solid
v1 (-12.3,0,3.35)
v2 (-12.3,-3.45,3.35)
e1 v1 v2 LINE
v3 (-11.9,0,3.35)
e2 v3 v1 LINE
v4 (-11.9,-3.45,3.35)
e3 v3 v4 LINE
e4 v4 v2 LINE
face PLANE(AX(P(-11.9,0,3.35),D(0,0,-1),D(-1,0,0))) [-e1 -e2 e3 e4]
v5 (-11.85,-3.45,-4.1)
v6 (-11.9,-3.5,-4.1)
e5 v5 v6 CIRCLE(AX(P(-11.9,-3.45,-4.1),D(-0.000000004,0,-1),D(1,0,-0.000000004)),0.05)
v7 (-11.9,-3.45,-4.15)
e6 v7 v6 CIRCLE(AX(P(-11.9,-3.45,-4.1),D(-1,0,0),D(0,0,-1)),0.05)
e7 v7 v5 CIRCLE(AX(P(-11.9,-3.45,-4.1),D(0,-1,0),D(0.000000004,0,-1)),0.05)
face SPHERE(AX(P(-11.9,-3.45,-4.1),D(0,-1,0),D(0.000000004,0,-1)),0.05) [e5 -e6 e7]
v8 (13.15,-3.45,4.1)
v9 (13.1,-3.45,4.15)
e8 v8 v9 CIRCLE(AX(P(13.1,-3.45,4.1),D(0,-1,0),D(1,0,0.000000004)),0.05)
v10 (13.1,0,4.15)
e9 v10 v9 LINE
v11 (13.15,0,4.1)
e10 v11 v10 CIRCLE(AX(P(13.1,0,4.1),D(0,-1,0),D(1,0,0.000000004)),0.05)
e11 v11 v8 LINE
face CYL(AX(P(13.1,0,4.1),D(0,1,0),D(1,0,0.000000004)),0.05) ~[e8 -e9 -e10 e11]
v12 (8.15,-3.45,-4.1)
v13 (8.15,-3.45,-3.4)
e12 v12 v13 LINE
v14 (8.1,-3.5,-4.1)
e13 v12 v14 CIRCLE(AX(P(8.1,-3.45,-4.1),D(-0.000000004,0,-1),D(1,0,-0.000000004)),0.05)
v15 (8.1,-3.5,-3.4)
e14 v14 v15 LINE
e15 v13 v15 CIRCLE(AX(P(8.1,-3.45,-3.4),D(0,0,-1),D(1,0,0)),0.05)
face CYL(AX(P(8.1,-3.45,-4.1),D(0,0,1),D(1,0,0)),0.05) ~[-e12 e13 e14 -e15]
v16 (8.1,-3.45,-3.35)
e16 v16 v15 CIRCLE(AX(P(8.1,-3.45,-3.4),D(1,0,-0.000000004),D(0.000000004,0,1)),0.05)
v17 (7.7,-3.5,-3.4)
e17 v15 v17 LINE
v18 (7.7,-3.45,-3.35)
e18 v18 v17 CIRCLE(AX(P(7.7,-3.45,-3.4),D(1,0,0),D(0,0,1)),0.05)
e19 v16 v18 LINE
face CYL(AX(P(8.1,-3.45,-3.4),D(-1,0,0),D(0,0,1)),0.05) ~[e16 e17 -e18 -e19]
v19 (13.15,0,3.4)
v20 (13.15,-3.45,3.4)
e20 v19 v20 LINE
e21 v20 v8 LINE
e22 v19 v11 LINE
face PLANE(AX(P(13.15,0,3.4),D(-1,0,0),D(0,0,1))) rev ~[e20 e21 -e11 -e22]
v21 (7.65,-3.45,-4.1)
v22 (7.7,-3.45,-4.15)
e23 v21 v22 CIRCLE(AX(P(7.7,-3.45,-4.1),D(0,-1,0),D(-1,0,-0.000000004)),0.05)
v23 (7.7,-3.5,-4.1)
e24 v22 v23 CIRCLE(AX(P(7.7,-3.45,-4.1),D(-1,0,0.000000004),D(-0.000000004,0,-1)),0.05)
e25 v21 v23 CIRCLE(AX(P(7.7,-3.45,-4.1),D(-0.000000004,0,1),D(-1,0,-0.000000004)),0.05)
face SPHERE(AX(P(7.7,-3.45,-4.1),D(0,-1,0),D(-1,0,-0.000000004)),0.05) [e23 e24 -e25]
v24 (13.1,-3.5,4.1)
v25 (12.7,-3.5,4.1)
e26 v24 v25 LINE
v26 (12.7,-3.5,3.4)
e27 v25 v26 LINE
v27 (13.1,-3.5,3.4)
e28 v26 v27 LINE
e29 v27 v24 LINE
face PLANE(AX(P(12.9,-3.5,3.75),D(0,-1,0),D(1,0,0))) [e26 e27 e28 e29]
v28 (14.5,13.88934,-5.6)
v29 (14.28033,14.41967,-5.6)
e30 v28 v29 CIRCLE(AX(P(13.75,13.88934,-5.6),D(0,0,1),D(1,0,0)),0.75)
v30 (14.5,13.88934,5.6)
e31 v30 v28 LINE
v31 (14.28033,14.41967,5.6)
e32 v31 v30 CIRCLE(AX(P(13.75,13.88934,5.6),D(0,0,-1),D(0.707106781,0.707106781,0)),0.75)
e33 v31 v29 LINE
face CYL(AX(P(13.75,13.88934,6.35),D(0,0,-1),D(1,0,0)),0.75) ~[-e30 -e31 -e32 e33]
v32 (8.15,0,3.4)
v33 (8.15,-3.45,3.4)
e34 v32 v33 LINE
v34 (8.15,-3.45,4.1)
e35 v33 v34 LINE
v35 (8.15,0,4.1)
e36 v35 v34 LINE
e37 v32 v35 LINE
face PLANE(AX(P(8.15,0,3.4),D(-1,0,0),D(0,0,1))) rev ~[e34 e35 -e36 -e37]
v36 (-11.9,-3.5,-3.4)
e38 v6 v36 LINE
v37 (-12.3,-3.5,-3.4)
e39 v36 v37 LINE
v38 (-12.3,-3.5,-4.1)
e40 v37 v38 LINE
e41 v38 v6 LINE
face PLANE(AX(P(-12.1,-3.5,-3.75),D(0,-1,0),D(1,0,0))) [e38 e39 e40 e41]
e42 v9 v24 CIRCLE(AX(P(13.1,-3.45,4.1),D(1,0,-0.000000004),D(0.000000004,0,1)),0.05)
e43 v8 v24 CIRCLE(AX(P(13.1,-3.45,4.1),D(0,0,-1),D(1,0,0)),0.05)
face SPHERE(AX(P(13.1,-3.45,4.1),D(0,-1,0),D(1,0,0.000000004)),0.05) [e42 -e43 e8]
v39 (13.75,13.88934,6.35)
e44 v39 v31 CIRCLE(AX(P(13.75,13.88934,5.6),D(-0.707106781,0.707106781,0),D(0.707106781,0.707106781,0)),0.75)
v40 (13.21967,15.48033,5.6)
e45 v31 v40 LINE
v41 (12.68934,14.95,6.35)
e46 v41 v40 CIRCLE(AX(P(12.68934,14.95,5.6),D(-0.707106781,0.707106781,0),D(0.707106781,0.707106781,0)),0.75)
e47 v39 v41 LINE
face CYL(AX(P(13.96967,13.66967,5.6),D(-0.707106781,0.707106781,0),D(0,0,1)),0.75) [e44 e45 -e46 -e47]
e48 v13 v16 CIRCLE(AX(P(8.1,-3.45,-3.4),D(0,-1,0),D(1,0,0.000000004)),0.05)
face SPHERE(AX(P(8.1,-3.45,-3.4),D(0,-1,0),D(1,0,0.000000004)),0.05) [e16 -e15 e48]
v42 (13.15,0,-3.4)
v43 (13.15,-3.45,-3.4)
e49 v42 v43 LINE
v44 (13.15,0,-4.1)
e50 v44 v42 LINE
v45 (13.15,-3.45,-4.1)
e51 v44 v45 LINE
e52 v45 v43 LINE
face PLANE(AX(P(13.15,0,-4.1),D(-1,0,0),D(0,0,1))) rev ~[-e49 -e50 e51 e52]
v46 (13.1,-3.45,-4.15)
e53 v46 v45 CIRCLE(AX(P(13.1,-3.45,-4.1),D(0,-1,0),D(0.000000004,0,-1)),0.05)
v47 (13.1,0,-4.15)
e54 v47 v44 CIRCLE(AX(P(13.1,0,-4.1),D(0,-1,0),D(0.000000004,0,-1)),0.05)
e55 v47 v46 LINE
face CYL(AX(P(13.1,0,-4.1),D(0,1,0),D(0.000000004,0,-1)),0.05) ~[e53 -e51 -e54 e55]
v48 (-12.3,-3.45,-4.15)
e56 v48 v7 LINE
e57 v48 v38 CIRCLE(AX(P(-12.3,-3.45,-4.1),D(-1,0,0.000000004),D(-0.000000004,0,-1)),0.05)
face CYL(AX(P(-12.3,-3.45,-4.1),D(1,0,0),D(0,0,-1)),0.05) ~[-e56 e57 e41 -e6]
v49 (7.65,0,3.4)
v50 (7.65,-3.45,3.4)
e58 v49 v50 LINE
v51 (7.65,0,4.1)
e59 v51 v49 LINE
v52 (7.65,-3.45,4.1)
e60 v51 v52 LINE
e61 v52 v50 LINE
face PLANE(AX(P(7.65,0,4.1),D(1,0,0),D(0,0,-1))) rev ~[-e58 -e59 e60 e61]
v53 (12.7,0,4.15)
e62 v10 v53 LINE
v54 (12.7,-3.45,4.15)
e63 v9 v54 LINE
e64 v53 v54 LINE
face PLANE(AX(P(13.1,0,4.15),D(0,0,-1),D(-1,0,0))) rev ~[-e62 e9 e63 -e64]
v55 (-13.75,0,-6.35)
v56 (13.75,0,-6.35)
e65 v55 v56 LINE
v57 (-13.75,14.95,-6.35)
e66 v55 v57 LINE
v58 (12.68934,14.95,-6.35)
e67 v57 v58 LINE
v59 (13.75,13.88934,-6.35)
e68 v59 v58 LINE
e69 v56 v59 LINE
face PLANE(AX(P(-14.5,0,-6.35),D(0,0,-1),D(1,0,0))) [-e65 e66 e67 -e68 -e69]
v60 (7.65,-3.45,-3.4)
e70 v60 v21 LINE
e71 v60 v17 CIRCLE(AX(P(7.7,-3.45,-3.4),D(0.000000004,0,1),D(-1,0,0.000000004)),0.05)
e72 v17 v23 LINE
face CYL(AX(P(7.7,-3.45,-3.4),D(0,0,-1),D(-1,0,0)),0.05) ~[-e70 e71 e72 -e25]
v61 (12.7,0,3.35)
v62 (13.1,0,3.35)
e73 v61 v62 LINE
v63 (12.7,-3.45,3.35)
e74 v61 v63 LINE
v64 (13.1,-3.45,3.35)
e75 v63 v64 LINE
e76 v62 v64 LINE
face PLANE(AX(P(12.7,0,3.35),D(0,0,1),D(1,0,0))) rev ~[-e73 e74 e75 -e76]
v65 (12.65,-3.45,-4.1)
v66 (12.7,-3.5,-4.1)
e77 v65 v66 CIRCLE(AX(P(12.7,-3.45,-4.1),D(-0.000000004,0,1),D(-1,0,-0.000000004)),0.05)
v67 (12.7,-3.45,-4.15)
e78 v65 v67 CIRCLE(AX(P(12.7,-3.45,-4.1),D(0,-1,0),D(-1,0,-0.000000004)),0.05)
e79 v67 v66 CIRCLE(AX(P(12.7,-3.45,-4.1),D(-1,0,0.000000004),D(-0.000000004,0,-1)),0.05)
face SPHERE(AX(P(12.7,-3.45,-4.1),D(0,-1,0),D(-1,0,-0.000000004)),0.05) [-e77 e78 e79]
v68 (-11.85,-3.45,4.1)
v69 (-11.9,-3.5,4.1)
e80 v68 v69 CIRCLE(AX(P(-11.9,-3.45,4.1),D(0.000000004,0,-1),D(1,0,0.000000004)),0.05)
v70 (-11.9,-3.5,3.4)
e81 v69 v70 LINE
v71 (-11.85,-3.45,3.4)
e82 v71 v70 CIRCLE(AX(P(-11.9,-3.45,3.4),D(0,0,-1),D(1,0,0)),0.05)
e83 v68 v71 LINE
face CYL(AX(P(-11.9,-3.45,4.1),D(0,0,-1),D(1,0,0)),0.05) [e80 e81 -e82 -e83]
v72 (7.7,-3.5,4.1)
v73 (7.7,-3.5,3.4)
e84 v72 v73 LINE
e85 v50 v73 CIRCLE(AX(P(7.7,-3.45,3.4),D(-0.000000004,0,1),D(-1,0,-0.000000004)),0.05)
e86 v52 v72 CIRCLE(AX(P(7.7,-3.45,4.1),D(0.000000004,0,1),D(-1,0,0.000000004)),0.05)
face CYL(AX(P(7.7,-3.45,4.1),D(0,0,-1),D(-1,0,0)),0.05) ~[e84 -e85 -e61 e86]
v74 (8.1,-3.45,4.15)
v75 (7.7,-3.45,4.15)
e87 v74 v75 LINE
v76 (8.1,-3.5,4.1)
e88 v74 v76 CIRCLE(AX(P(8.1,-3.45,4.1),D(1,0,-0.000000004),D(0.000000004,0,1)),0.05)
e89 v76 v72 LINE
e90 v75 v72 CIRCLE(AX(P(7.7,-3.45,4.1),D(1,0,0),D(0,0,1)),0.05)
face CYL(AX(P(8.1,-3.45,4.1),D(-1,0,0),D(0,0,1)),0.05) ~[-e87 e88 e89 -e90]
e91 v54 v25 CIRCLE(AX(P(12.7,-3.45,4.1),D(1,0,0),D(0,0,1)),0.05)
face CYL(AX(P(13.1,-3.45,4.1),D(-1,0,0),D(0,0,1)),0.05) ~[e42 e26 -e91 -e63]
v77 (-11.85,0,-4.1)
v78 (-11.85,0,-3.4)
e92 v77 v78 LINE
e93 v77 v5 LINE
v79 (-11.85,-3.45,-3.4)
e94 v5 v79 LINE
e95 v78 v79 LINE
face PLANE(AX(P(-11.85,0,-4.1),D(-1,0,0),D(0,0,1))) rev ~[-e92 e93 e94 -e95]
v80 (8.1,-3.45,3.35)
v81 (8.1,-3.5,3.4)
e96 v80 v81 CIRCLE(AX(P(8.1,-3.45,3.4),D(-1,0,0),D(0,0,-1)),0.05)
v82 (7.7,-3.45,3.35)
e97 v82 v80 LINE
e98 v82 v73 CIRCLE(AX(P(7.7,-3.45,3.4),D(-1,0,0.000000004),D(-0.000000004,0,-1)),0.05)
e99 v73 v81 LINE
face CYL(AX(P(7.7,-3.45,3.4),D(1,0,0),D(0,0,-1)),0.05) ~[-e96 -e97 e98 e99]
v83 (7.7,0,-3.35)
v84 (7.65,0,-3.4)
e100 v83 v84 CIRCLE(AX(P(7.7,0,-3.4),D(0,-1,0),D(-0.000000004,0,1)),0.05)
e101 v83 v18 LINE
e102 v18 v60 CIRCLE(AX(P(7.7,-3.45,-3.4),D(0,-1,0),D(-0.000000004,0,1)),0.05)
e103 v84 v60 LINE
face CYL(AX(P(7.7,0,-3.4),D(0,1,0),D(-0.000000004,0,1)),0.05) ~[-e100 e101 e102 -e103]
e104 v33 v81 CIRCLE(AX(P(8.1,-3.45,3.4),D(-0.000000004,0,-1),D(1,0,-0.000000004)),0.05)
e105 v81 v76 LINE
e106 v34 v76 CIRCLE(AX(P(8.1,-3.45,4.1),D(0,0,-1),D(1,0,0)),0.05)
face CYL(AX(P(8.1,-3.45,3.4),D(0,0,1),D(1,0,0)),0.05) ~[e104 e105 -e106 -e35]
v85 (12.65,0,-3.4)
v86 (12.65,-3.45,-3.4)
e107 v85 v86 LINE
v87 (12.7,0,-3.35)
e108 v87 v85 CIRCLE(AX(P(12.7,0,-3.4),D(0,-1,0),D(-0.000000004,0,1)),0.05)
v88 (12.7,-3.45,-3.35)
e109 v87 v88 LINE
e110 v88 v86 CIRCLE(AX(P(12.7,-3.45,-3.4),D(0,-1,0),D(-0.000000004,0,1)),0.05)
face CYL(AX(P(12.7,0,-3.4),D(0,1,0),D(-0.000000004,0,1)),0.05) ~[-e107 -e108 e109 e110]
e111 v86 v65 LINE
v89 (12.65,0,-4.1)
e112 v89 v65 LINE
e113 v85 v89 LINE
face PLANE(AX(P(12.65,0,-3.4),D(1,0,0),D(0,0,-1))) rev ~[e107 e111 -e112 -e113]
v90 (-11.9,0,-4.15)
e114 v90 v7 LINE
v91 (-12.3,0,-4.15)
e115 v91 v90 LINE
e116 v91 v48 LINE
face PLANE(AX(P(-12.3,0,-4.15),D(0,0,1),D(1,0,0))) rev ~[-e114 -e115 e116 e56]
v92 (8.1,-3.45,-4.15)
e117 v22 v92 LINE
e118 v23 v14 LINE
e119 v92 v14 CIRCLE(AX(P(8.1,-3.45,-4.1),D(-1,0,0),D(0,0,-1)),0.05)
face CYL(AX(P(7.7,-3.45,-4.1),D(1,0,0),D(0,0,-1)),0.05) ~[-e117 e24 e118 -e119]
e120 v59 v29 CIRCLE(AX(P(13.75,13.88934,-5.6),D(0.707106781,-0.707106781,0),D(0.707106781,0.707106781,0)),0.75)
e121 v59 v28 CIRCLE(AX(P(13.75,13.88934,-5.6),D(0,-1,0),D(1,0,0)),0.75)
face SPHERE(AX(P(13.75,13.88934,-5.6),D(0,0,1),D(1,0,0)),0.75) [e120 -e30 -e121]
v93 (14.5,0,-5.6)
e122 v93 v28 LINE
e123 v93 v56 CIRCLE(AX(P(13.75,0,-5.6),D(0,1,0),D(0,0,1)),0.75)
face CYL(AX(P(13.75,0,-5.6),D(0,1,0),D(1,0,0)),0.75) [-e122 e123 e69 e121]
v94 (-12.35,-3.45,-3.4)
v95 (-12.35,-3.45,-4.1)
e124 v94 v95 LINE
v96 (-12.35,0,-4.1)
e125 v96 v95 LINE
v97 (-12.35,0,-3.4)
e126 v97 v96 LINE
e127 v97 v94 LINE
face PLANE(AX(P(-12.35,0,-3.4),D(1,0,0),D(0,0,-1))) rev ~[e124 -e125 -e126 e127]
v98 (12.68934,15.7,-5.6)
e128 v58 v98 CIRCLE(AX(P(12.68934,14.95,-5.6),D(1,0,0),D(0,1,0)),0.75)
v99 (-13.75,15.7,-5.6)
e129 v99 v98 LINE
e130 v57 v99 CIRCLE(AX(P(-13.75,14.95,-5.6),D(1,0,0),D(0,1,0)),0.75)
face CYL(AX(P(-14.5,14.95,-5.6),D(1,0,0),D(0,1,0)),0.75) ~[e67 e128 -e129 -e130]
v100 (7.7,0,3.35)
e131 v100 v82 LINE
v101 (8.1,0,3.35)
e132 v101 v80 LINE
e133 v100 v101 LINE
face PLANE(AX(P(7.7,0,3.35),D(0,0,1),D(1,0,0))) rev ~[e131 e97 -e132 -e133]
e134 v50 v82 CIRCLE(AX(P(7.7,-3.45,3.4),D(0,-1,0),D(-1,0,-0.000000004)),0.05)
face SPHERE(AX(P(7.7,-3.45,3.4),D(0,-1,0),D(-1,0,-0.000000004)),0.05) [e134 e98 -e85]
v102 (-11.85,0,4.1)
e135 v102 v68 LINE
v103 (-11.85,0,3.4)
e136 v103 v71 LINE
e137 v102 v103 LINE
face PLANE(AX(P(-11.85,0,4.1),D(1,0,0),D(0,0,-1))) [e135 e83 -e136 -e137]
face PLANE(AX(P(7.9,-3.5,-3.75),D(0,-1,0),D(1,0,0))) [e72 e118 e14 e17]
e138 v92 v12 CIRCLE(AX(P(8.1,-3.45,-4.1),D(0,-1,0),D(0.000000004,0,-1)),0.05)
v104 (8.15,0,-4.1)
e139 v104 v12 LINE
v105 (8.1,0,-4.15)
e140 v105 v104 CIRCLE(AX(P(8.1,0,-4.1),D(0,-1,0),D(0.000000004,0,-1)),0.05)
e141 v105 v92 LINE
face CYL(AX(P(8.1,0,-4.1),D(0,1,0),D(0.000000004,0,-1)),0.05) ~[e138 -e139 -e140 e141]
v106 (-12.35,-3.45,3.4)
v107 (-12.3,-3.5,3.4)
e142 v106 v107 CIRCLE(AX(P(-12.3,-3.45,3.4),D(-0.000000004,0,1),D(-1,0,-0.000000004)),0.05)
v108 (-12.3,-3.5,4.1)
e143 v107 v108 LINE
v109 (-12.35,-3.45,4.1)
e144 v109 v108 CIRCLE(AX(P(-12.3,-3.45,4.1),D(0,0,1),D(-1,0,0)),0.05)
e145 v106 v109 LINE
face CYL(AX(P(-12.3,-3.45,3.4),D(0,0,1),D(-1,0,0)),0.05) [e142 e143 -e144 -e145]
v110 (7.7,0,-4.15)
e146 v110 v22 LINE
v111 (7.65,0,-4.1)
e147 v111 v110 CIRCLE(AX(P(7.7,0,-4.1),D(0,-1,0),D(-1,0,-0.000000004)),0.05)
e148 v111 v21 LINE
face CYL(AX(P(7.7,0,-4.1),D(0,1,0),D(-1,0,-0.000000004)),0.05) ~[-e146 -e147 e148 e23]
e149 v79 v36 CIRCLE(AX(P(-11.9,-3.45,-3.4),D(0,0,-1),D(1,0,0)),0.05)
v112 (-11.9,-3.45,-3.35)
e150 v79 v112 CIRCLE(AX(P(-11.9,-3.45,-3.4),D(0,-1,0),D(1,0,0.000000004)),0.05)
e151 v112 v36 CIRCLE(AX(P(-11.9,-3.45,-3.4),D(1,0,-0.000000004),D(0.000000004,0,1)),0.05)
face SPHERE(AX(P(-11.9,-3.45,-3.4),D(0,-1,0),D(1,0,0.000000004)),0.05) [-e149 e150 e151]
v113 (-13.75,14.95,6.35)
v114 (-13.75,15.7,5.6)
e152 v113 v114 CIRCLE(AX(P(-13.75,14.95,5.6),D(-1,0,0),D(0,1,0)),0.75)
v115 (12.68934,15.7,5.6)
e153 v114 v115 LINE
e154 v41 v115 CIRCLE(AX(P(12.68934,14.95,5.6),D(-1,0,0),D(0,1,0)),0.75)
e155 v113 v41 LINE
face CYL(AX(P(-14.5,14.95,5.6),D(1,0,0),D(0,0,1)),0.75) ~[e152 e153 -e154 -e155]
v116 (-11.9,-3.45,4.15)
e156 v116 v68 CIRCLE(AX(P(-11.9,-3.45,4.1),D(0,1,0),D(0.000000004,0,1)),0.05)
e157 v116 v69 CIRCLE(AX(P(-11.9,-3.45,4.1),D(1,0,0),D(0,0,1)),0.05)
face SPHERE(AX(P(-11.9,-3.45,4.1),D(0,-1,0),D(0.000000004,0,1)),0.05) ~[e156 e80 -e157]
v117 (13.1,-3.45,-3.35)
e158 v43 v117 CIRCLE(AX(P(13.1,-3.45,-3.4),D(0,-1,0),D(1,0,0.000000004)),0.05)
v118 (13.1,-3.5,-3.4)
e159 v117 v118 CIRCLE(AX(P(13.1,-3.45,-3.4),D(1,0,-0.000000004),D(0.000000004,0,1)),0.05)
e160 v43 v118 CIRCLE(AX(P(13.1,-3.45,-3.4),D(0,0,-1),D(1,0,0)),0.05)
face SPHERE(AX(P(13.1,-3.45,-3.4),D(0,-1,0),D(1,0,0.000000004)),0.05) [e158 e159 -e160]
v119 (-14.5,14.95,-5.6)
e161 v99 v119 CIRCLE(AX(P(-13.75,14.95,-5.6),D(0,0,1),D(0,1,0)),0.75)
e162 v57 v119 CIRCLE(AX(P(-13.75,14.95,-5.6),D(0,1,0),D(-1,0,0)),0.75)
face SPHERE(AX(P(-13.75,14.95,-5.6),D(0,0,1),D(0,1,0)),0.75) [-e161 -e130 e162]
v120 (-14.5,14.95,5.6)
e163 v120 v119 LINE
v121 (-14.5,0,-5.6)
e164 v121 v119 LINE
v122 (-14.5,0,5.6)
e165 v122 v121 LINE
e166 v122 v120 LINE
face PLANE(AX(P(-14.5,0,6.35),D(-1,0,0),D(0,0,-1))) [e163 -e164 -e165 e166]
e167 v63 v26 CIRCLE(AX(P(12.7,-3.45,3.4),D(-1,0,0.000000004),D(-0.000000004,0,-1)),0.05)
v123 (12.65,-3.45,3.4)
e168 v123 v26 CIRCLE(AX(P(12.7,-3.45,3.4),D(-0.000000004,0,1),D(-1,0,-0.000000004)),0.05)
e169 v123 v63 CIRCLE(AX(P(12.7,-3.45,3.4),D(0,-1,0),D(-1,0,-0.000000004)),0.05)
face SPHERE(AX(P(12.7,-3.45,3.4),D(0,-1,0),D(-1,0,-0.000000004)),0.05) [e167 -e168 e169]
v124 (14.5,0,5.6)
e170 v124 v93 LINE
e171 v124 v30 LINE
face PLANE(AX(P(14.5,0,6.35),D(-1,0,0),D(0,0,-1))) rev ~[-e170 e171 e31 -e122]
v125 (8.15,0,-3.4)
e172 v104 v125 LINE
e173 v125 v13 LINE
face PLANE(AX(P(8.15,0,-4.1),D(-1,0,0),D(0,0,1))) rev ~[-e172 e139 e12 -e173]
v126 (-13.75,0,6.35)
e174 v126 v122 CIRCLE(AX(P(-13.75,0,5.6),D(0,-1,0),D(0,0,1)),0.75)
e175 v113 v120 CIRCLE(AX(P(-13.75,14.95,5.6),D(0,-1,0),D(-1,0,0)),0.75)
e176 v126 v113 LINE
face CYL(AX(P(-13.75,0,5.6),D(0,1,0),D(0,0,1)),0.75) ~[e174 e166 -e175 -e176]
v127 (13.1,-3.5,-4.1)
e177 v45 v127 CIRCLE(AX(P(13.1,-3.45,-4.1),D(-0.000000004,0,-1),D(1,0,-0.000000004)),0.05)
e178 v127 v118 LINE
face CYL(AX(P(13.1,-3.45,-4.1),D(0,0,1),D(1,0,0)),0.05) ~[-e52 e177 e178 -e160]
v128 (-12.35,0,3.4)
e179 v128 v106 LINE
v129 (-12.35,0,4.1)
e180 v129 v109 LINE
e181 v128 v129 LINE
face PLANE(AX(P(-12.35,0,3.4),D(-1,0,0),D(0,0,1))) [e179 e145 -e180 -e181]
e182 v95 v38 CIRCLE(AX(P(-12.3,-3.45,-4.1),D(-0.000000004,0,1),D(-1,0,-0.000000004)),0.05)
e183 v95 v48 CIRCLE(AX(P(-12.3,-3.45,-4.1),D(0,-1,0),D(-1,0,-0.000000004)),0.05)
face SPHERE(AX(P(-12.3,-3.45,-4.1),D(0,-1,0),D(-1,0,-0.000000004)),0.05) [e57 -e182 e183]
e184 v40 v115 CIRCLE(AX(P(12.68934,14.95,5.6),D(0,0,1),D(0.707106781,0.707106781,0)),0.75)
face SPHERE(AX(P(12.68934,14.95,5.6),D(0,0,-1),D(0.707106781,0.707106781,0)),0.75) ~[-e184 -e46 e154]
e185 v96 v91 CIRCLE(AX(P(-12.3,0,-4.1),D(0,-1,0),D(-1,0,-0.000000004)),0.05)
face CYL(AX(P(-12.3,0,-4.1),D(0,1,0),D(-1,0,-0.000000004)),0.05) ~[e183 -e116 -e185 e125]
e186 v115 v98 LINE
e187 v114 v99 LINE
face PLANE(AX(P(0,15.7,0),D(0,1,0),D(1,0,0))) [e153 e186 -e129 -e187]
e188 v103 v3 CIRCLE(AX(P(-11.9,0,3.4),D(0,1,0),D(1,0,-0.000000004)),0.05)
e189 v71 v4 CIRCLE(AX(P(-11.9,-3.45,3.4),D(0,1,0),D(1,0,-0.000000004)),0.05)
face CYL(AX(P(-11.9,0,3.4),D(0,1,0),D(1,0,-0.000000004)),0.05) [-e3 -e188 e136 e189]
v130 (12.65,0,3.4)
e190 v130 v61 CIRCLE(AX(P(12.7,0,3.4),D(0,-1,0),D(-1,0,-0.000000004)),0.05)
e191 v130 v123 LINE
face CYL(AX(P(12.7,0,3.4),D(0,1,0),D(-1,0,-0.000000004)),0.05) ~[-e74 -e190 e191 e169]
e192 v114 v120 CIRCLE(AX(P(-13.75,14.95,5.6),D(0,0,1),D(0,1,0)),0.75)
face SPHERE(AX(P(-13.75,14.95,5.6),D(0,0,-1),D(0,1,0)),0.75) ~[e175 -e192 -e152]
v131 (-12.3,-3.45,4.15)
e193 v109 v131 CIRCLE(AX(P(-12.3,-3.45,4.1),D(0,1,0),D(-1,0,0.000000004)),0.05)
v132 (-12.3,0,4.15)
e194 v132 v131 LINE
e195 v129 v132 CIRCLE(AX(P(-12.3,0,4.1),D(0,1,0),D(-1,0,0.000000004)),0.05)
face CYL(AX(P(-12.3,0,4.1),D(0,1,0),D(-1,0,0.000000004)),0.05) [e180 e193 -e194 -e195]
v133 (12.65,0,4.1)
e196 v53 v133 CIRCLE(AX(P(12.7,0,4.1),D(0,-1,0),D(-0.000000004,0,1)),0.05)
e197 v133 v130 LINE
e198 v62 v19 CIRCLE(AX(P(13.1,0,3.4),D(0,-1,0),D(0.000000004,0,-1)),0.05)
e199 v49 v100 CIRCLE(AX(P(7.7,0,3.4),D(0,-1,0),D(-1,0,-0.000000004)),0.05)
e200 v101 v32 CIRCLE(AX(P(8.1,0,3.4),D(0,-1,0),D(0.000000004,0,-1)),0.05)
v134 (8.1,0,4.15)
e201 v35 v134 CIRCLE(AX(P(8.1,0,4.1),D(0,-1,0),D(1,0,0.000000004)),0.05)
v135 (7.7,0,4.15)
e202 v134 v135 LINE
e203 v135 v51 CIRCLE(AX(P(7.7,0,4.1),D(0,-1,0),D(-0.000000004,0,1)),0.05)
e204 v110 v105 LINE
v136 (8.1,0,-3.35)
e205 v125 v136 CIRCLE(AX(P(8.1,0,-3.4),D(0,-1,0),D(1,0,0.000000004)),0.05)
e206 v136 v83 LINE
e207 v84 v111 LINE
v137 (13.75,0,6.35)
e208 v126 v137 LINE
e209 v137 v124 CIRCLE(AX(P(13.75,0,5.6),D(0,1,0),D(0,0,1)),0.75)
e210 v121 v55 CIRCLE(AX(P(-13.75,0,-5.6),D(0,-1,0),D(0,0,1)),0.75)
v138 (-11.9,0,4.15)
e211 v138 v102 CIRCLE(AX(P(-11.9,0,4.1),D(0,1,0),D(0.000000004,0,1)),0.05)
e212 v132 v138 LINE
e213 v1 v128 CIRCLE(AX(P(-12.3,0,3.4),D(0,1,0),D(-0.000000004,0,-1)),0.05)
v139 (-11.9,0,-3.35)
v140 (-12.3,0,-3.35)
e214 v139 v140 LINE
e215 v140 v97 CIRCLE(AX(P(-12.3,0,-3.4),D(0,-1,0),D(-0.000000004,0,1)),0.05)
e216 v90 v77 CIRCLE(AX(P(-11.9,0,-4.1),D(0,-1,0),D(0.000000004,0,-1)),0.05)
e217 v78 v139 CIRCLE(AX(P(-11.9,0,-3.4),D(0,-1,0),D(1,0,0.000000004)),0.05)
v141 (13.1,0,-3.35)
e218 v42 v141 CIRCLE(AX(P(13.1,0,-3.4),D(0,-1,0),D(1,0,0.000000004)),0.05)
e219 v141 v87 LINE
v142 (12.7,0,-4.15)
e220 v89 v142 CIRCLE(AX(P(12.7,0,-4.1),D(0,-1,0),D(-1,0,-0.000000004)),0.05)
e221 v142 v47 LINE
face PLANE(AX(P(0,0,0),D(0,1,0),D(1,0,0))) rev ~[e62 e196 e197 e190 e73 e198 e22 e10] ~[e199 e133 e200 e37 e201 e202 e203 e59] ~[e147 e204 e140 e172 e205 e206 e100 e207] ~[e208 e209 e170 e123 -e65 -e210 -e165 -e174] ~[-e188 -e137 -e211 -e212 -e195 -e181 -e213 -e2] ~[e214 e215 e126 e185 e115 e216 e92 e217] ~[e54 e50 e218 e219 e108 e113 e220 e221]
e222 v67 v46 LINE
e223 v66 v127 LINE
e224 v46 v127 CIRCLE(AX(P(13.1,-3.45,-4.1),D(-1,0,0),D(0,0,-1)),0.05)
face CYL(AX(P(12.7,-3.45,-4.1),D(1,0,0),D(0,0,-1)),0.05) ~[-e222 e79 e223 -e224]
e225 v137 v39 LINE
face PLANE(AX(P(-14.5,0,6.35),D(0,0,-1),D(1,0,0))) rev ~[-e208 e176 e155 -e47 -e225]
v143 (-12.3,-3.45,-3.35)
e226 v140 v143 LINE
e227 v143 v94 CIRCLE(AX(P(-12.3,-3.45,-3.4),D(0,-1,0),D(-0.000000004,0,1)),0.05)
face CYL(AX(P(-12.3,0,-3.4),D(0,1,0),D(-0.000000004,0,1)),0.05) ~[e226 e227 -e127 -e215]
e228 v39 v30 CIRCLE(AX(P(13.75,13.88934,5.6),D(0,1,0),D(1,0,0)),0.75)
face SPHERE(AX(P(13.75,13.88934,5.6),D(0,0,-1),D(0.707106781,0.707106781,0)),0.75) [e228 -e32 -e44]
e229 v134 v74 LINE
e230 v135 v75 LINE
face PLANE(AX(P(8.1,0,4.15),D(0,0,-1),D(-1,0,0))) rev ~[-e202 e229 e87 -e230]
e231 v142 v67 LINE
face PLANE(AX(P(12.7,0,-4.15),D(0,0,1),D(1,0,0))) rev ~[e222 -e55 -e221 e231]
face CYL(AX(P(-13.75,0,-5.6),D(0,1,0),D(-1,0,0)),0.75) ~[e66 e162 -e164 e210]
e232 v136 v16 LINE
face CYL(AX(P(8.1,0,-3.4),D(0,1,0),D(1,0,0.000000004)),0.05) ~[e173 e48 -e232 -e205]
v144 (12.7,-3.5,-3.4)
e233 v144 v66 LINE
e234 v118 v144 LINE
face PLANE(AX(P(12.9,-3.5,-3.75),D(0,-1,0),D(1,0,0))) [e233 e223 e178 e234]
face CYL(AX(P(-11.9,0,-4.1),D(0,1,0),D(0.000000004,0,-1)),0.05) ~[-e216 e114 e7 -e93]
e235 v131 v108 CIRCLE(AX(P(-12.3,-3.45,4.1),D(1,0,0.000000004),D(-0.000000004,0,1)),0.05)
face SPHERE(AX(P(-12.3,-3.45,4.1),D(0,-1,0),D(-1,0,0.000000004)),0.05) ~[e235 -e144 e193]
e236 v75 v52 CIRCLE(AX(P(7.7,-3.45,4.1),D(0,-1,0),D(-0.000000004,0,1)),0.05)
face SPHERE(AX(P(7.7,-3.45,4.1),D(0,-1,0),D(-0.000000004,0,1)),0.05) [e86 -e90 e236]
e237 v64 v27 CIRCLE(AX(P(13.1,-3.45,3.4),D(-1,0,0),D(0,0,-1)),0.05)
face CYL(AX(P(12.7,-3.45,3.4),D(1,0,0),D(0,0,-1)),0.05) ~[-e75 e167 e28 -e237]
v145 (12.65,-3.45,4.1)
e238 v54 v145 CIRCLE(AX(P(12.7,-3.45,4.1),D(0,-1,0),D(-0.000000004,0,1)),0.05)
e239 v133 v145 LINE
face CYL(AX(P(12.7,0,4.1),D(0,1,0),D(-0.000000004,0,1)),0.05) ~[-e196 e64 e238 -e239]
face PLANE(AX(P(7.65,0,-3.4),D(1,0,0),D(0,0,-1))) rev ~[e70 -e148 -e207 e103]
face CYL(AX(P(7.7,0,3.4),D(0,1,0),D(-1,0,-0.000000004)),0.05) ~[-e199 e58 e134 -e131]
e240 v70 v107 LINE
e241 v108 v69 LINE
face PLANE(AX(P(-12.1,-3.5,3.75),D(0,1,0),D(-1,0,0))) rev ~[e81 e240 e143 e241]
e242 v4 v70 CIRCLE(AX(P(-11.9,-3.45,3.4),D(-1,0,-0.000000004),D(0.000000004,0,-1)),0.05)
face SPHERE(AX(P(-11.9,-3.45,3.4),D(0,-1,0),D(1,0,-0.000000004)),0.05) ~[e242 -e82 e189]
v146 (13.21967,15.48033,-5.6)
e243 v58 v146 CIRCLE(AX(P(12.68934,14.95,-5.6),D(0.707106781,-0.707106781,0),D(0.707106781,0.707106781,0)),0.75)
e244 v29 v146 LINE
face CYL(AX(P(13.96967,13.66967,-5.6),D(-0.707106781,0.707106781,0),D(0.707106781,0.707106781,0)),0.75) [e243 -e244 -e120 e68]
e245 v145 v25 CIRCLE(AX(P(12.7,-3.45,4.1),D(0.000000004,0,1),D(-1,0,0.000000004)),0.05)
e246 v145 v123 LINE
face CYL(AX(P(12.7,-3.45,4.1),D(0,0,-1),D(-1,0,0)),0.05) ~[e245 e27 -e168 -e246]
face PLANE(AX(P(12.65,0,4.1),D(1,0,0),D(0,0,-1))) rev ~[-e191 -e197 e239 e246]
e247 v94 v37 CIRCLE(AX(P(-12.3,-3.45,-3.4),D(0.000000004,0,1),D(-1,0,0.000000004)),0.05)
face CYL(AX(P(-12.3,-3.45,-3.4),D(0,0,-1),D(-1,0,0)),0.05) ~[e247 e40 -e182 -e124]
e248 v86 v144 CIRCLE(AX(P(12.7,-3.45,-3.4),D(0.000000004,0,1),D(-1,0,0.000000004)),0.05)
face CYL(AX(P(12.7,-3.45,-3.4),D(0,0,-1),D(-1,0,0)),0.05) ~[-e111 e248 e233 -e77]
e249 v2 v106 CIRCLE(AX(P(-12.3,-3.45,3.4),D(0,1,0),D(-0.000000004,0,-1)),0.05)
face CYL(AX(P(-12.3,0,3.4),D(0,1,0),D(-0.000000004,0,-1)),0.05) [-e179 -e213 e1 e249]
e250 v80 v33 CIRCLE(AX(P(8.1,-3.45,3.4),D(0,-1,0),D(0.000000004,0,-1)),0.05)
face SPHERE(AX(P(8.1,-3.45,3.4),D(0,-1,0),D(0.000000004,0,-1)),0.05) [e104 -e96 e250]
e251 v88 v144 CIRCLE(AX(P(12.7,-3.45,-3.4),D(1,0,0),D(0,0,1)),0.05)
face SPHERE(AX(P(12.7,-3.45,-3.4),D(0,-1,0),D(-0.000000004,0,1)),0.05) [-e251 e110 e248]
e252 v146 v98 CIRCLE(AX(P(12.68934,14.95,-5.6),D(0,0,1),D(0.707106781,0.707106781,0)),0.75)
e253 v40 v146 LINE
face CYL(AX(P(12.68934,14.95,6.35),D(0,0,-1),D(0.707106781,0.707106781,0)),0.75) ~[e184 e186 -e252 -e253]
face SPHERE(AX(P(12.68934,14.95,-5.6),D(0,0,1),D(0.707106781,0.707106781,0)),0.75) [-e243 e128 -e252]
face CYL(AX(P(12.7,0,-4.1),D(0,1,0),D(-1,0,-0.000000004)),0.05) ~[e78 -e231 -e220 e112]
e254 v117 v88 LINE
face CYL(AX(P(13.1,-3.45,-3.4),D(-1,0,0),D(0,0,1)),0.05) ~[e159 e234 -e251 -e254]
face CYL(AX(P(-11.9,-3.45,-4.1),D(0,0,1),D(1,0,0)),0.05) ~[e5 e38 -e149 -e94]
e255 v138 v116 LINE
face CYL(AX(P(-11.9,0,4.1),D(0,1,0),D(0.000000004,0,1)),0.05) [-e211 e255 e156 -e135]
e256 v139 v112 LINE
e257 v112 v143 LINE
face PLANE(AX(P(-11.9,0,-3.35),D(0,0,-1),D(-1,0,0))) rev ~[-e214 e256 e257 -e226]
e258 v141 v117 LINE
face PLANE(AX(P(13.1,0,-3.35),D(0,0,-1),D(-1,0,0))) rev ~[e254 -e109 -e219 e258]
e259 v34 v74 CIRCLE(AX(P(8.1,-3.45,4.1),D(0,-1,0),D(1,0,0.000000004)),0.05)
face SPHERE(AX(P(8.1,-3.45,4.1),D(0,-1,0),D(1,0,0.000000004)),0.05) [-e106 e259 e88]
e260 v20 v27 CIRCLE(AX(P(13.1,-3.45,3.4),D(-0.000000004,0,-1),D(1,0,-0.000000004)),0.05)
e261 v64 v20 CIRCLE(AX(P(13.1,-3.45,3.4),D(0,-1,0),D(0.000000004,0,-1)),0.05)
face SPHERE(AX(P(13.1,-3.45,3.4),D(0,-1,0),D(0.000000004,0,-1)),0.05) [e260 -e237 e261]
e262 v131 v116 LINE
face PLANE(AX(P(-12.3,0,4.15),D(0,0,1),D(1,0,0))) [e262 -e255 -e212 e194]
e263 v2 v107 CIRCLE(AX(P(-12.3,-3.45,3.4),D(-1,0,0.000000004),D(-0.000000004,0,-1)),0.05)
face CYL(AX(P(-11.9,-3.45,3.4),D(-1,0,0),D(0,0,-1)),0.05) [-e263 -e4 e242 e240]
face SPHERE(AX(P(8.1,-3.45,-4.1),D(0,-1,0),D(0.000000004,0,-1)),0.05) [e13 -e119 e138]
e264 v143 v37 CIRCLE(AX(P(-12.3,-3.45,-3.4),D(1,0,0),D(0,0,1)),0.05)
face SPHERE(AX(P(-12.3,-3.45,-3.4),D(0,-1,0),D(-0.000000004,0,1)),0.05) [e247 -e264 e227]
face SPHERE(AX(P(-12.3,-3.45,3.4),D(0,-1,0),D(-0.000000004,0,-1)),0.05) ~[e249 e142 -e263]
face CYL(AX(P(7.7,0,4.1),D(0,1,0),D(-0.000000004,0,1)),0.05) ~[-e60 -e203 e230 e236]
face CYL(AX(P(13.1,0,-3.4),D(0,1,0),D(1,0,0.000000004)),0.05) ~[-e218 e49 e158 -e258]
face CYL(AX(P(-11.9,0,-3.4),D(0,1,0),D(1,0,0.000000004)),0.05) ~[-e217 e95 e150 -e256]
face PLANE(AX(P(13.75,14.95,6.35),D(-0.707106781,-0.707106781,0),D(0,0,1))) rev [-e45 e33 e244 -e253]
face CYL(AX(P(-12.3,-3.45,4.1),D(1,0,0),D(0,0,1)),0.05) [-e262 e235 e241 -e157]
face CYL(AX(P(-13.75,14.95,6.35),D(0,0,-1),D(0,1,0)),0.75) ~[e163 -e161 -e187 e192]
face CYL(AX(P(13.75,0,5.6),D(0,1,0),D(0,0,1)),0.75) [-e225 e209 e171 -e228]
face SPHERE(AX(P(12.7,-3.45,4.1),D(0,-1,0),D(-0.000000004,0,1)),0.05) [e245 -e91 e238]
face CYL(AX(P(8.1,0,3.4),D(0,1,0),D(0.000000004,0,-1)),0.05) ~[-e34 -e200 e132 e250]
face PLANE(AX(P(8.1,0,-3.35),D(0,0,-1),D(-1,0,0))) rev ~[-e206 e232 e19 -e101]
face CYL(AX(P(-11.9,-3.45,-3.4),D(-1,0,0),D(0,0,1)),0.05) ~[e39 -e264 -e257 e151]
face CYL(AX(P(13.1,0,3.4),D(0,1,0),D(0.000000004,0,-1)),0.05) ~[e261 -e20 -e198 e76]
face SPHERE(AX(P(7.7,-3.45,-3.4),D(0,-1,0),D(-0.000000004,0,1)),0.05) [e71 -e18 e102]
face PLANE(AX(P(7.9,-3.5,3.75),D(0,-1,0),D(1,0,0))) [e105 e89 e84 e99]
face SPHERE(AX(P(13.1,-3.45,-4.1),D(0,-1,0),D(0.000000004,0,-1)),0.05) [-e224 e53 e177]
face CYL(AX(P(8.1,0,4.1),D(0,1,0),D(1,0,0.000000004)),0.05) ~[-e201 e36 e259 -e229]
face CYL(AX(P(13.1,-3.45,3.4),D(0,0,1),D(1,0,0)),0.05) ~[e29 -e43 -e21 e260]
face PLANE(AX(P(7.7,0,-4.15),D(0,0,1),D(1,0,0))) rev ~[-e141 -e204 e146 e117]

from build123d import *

# Parameters (mm, degrees)
SKETCH_1_W      = 29
SKETCH_1_H      = 12.7
EXTRUDE_1_DEPTH = 15.7
EXTRUDE_2_DEPTH = 3.5
FILLET_1_R      = 0.05
CHAMFER_1_SIZE  = 1.5
FILLET_2_R      = 0.75


with BuildPart() as part:
    # Эскиз1 → Бобышка-Вытянуть1 (new body)
    with BuildSketch(Plane(origin=(0, 0, 0), x_dir=(1, 0, 0), z_dir=(0, 1, 0))):
        Rectangle(SKETCH_1_W, SKETCH_1_H)
    extrude(amount=EXTRUDE_1_DEPTH)

    # Эскиз2 → Бобышка-Вытянуть2 (add)
    with BuildSketch(Plane.XZ):
        with BuildLine():
            Line((-12.3, 4.15), (-11.9, 4.15))
            ThreePointArc((-11.9, 4.15), (-11.864644661, 4.135355339), (-11.85, 4.1))
            Line((-11.85, 4.1), (-11.85, 3.4))
            ThreePointArc((-11.85, 3.4), (-11.864644661, 3.364644661), (-11.9, 3.35))
            Line((-11.9, 3.35), (-12.3, 3.35))
            ThreePointArc((-12.3, 3.35), (-12.335355339, 3.364644661), (-12.35, 3.4))
            Line((-12.35, 3.4), (-12.35, 4.1))
            ThreePointArc((-12.35, 4.1), (-12.335355339, 4.135355339), (-12.3, 4.15))
        make_face()
        with BuildLine():
            Line((7.65, 4.1), (7.65, 3.4))
            ThreePointArc((7.65, 3.4), (7.664644661, 3.364644661), (7.7, 3.35))
            Line((7.7, 3.35), (8.1, 3.35))
            ThreePointArc((8.1, 3.35), (8.135355339, 3.364644661), (8.15, 3.4))
            Line((8.15, 3.4), (8.15, 4.1))
            ThreePointArc((8.15, 4.1), (8.135355339, 4.135355339), (8.1, 4.15))
            Line((8.1, 4.15), (7.7, 4.15))
            ThreePointArc((7.7, 4.15), (7.664644661, 4.135355339), (7.65, 4.1))
        make_face()
        with BuildLine():
            Line((12.65, 4.1), (12.65, 3.4))
            ThreePointArc((12.65, 3.4), (12.664644661, 3.364644661), (12.7, 3.35))
            Line((12.7, 3.35), (13.1, 3.35))
            ThreePointArc((13.1, 3.35), (13.135355339, 3.364644661), (13.15, 3.4))
            Line((13.15, 3.4), (13.15, 4.1))
            ThreePointArc((13.15, 4.1), (13.135355339, 4.135355339), (13.1, 4.15))
            Line((13.1, 4.15), (12.7, 4.15))
            ThreePointArc((12.7, 4.15), (12.664644661, 4.135355339), (12.65, 4.1))
        make_face()
        with BuildLine():
            Line((7.65, -3.4), (7.65, -4.1))
            ThreePointArc((7.65, -4.1), (7.664644661, -4.135355339), (7.7, -4.15))
            Line((7.7, -4.15), (8.1, -4.15))
            ThreePointArc((8.1, -4.15), (8.135355339, -4.135355339), (8.15, -4.1))
            Line((8.15, -4.1), (8.15, -3.4))
            ThreePointArc((8.15, -3.4), (8.135355339, -3.364644661), (8.1, -3.35))
            Line((8.1, -3.35), (7.7, -3.35))
            ThreePointArc((7.7, -3.35), (7.664644661, -3.364644661), (7.65, -3.4))
        make_face()
        with BuildLine():
            Line((12.65, -3.4), (12.65, -4.1))
            ThreePointArc((12.65, -4.1), (12.664644661, -4.135355339), (12.7, -4.15))
            Line((12.7, -4.15), (13.1, -4.15))
            ThreePointArc((13.1, -4.15), (13.135355339, -4.135355339), (13.15, -4.1))
            Line((13.15, -4.1), (13.15, -3.4))
            ThreePointArc((13.15, -3.4), (13.135355339, -3.364644661), (13.1, -3.35))
            Line((13.1, -3.35), (12.7, -3.35))
            ThreePointArc((12.7, -3.35), (12.664644661, -3.364644661), (12.65, -3.4))
        make_face()
        with BuildLine():
            Line((-12.35, -3.4), (-12.35, -4.1))
            ThreePointArc((-12.35, -4.1), (-12.335355339, -4.135355339), (-12.3, -4.15))
            Line((-12.3, -4.15), (-11.9, -4.15))
            ThreePointArc((-11.9, -4.15), (-11.864644661, -4.135355339), (-11.85, -4.1))
            Line((-11.85, -4.1), (-11.85, -3.4))
            ThreePointArc((-11.85, -3.4), (-11.864644661, -3.364644661), (-11.9, -3.35))
            Line((-11.9, -3.35), (-12.3, -3.35))
            ThreePointArc((-12.3, -3.35), (-12.335355339, -3.364644661), (-12.35, -3.4))
        make_face()
    extrude(amount=EXTRUDE_2_DEPTH)

    # Скругление1
    fillet_1_edges = [part.edges().sort_by_distance(p)[0] for p in [
        (12.664644661, -3.5, -4.135355339),
        (12.9, -3.5, -4.15),
        (13.135355339, -3.5, -4.135355339),
        (13.15, -3.5, -3.75),
        (13.135355339, -3.5, -3.364644661),
        (12.9, -3.5, -3.35),
        (12.664644661, -3.5, -3.364644661),
        (12.65, -3.5, -3.75),
        (-12.335355339, -3.5, -4.135355339),
        (-12.1, -3.5, -4.15),
        (-11.864644661, -3.5, -4.135355339),
        (-11.85, -3.5, -3.75),
        (-11.864644661, -3.5, -3.364644661),
        (-12.1, -3.5, -3.35),
        (-12.335355339, -3.5, -3.364644661),
        (-12.35, -3.5, -3.75),
        (-12.335355339, -3.5, 3.364644661),
        (-12.1, -3.5, 3.35),
        (-11.864644661, -3.5, 3.364644661),
        (-11.85, -3.5, 3.75),
        (-11.864644661, -3.5, 4.135355339),
        (-12.1, -3.5, 4.15),
        (-12.335355339, -3.5, 4.135355339),
        (-12.35, -3.5, 3.75),
        (7.664644661, -3.5, 3.364644661),
        (7.9, -3.5, 3.35),
        (8.135355339, -3.5, 3.364644661),
        (8.15, -3.5, 3.75),
        (8.135355339, -3.5, 4.135355339),
        (7.9, -3.5, 4.15),
        (7.664644661, -3.5, 4.135355339),
        (7.65, -3.5, 3.75),
        (12.664644661, -3.5, 3.364644661),
        (12.9, -3.5, 3.35),
        (13.135355339, -3.5, 3.364644661),
        (13.15, -3.5, 3.75),
        (13.135355339, -3.5, 4.135355339),
        (12.9, -3.5, 4.15),
        (12.664644661, -3.5, 4.135355339),
        (12.65, -3.5, 3.75),
        (7.664644661, -3.5, -4.135355339),
        (7.9, -3.5, -4.15),
        (8.135355339, -3.5, -4.135355339),
        (8.15, -3.5, -3.75),
        (8.135355339, -3.5, -3.364644661),
        (7.9, -3.5, -3.35),
        (7.664644661, -3.5, -3.364644661),
        (7.65, -3.5, -3.75),
    ]]
    fillet(fillet_1_edges, radius=FILLET_1_R)

    # Фаска1
    chamfer_1_edges = [part.edges().sort_by_distance(p)[0] for p in [
        (14.5, 15.7, 0),
    ]]
    chamfer(chamfer_1_edges, length=CHAMFER_1_SIZE)

    # Скругление2
    fillet_2_edges = [part.edges().sort_by_distance(p)[0] for p in [
        (-14.5, 15.7, 0),
        (-0.75, 15.7, 6.35),
        (-0.75, 15.7, -6.35),
        (13, 15.7, 0),
        (14.5, 7.1, -6.35),
        (13.75, 14.95, -6.35),
        (14.5, 7.1, 6.35),
        (14.5, 14.2, 0),
        (13.75, 14.95, 6.35),
        (-14.5, 7.85, 6.35),
        (-14.5, 7.85, -6.35),
    ]]
    fillet(fillet_2_edges, radius=FILLET_2_R)


solid = part.part
